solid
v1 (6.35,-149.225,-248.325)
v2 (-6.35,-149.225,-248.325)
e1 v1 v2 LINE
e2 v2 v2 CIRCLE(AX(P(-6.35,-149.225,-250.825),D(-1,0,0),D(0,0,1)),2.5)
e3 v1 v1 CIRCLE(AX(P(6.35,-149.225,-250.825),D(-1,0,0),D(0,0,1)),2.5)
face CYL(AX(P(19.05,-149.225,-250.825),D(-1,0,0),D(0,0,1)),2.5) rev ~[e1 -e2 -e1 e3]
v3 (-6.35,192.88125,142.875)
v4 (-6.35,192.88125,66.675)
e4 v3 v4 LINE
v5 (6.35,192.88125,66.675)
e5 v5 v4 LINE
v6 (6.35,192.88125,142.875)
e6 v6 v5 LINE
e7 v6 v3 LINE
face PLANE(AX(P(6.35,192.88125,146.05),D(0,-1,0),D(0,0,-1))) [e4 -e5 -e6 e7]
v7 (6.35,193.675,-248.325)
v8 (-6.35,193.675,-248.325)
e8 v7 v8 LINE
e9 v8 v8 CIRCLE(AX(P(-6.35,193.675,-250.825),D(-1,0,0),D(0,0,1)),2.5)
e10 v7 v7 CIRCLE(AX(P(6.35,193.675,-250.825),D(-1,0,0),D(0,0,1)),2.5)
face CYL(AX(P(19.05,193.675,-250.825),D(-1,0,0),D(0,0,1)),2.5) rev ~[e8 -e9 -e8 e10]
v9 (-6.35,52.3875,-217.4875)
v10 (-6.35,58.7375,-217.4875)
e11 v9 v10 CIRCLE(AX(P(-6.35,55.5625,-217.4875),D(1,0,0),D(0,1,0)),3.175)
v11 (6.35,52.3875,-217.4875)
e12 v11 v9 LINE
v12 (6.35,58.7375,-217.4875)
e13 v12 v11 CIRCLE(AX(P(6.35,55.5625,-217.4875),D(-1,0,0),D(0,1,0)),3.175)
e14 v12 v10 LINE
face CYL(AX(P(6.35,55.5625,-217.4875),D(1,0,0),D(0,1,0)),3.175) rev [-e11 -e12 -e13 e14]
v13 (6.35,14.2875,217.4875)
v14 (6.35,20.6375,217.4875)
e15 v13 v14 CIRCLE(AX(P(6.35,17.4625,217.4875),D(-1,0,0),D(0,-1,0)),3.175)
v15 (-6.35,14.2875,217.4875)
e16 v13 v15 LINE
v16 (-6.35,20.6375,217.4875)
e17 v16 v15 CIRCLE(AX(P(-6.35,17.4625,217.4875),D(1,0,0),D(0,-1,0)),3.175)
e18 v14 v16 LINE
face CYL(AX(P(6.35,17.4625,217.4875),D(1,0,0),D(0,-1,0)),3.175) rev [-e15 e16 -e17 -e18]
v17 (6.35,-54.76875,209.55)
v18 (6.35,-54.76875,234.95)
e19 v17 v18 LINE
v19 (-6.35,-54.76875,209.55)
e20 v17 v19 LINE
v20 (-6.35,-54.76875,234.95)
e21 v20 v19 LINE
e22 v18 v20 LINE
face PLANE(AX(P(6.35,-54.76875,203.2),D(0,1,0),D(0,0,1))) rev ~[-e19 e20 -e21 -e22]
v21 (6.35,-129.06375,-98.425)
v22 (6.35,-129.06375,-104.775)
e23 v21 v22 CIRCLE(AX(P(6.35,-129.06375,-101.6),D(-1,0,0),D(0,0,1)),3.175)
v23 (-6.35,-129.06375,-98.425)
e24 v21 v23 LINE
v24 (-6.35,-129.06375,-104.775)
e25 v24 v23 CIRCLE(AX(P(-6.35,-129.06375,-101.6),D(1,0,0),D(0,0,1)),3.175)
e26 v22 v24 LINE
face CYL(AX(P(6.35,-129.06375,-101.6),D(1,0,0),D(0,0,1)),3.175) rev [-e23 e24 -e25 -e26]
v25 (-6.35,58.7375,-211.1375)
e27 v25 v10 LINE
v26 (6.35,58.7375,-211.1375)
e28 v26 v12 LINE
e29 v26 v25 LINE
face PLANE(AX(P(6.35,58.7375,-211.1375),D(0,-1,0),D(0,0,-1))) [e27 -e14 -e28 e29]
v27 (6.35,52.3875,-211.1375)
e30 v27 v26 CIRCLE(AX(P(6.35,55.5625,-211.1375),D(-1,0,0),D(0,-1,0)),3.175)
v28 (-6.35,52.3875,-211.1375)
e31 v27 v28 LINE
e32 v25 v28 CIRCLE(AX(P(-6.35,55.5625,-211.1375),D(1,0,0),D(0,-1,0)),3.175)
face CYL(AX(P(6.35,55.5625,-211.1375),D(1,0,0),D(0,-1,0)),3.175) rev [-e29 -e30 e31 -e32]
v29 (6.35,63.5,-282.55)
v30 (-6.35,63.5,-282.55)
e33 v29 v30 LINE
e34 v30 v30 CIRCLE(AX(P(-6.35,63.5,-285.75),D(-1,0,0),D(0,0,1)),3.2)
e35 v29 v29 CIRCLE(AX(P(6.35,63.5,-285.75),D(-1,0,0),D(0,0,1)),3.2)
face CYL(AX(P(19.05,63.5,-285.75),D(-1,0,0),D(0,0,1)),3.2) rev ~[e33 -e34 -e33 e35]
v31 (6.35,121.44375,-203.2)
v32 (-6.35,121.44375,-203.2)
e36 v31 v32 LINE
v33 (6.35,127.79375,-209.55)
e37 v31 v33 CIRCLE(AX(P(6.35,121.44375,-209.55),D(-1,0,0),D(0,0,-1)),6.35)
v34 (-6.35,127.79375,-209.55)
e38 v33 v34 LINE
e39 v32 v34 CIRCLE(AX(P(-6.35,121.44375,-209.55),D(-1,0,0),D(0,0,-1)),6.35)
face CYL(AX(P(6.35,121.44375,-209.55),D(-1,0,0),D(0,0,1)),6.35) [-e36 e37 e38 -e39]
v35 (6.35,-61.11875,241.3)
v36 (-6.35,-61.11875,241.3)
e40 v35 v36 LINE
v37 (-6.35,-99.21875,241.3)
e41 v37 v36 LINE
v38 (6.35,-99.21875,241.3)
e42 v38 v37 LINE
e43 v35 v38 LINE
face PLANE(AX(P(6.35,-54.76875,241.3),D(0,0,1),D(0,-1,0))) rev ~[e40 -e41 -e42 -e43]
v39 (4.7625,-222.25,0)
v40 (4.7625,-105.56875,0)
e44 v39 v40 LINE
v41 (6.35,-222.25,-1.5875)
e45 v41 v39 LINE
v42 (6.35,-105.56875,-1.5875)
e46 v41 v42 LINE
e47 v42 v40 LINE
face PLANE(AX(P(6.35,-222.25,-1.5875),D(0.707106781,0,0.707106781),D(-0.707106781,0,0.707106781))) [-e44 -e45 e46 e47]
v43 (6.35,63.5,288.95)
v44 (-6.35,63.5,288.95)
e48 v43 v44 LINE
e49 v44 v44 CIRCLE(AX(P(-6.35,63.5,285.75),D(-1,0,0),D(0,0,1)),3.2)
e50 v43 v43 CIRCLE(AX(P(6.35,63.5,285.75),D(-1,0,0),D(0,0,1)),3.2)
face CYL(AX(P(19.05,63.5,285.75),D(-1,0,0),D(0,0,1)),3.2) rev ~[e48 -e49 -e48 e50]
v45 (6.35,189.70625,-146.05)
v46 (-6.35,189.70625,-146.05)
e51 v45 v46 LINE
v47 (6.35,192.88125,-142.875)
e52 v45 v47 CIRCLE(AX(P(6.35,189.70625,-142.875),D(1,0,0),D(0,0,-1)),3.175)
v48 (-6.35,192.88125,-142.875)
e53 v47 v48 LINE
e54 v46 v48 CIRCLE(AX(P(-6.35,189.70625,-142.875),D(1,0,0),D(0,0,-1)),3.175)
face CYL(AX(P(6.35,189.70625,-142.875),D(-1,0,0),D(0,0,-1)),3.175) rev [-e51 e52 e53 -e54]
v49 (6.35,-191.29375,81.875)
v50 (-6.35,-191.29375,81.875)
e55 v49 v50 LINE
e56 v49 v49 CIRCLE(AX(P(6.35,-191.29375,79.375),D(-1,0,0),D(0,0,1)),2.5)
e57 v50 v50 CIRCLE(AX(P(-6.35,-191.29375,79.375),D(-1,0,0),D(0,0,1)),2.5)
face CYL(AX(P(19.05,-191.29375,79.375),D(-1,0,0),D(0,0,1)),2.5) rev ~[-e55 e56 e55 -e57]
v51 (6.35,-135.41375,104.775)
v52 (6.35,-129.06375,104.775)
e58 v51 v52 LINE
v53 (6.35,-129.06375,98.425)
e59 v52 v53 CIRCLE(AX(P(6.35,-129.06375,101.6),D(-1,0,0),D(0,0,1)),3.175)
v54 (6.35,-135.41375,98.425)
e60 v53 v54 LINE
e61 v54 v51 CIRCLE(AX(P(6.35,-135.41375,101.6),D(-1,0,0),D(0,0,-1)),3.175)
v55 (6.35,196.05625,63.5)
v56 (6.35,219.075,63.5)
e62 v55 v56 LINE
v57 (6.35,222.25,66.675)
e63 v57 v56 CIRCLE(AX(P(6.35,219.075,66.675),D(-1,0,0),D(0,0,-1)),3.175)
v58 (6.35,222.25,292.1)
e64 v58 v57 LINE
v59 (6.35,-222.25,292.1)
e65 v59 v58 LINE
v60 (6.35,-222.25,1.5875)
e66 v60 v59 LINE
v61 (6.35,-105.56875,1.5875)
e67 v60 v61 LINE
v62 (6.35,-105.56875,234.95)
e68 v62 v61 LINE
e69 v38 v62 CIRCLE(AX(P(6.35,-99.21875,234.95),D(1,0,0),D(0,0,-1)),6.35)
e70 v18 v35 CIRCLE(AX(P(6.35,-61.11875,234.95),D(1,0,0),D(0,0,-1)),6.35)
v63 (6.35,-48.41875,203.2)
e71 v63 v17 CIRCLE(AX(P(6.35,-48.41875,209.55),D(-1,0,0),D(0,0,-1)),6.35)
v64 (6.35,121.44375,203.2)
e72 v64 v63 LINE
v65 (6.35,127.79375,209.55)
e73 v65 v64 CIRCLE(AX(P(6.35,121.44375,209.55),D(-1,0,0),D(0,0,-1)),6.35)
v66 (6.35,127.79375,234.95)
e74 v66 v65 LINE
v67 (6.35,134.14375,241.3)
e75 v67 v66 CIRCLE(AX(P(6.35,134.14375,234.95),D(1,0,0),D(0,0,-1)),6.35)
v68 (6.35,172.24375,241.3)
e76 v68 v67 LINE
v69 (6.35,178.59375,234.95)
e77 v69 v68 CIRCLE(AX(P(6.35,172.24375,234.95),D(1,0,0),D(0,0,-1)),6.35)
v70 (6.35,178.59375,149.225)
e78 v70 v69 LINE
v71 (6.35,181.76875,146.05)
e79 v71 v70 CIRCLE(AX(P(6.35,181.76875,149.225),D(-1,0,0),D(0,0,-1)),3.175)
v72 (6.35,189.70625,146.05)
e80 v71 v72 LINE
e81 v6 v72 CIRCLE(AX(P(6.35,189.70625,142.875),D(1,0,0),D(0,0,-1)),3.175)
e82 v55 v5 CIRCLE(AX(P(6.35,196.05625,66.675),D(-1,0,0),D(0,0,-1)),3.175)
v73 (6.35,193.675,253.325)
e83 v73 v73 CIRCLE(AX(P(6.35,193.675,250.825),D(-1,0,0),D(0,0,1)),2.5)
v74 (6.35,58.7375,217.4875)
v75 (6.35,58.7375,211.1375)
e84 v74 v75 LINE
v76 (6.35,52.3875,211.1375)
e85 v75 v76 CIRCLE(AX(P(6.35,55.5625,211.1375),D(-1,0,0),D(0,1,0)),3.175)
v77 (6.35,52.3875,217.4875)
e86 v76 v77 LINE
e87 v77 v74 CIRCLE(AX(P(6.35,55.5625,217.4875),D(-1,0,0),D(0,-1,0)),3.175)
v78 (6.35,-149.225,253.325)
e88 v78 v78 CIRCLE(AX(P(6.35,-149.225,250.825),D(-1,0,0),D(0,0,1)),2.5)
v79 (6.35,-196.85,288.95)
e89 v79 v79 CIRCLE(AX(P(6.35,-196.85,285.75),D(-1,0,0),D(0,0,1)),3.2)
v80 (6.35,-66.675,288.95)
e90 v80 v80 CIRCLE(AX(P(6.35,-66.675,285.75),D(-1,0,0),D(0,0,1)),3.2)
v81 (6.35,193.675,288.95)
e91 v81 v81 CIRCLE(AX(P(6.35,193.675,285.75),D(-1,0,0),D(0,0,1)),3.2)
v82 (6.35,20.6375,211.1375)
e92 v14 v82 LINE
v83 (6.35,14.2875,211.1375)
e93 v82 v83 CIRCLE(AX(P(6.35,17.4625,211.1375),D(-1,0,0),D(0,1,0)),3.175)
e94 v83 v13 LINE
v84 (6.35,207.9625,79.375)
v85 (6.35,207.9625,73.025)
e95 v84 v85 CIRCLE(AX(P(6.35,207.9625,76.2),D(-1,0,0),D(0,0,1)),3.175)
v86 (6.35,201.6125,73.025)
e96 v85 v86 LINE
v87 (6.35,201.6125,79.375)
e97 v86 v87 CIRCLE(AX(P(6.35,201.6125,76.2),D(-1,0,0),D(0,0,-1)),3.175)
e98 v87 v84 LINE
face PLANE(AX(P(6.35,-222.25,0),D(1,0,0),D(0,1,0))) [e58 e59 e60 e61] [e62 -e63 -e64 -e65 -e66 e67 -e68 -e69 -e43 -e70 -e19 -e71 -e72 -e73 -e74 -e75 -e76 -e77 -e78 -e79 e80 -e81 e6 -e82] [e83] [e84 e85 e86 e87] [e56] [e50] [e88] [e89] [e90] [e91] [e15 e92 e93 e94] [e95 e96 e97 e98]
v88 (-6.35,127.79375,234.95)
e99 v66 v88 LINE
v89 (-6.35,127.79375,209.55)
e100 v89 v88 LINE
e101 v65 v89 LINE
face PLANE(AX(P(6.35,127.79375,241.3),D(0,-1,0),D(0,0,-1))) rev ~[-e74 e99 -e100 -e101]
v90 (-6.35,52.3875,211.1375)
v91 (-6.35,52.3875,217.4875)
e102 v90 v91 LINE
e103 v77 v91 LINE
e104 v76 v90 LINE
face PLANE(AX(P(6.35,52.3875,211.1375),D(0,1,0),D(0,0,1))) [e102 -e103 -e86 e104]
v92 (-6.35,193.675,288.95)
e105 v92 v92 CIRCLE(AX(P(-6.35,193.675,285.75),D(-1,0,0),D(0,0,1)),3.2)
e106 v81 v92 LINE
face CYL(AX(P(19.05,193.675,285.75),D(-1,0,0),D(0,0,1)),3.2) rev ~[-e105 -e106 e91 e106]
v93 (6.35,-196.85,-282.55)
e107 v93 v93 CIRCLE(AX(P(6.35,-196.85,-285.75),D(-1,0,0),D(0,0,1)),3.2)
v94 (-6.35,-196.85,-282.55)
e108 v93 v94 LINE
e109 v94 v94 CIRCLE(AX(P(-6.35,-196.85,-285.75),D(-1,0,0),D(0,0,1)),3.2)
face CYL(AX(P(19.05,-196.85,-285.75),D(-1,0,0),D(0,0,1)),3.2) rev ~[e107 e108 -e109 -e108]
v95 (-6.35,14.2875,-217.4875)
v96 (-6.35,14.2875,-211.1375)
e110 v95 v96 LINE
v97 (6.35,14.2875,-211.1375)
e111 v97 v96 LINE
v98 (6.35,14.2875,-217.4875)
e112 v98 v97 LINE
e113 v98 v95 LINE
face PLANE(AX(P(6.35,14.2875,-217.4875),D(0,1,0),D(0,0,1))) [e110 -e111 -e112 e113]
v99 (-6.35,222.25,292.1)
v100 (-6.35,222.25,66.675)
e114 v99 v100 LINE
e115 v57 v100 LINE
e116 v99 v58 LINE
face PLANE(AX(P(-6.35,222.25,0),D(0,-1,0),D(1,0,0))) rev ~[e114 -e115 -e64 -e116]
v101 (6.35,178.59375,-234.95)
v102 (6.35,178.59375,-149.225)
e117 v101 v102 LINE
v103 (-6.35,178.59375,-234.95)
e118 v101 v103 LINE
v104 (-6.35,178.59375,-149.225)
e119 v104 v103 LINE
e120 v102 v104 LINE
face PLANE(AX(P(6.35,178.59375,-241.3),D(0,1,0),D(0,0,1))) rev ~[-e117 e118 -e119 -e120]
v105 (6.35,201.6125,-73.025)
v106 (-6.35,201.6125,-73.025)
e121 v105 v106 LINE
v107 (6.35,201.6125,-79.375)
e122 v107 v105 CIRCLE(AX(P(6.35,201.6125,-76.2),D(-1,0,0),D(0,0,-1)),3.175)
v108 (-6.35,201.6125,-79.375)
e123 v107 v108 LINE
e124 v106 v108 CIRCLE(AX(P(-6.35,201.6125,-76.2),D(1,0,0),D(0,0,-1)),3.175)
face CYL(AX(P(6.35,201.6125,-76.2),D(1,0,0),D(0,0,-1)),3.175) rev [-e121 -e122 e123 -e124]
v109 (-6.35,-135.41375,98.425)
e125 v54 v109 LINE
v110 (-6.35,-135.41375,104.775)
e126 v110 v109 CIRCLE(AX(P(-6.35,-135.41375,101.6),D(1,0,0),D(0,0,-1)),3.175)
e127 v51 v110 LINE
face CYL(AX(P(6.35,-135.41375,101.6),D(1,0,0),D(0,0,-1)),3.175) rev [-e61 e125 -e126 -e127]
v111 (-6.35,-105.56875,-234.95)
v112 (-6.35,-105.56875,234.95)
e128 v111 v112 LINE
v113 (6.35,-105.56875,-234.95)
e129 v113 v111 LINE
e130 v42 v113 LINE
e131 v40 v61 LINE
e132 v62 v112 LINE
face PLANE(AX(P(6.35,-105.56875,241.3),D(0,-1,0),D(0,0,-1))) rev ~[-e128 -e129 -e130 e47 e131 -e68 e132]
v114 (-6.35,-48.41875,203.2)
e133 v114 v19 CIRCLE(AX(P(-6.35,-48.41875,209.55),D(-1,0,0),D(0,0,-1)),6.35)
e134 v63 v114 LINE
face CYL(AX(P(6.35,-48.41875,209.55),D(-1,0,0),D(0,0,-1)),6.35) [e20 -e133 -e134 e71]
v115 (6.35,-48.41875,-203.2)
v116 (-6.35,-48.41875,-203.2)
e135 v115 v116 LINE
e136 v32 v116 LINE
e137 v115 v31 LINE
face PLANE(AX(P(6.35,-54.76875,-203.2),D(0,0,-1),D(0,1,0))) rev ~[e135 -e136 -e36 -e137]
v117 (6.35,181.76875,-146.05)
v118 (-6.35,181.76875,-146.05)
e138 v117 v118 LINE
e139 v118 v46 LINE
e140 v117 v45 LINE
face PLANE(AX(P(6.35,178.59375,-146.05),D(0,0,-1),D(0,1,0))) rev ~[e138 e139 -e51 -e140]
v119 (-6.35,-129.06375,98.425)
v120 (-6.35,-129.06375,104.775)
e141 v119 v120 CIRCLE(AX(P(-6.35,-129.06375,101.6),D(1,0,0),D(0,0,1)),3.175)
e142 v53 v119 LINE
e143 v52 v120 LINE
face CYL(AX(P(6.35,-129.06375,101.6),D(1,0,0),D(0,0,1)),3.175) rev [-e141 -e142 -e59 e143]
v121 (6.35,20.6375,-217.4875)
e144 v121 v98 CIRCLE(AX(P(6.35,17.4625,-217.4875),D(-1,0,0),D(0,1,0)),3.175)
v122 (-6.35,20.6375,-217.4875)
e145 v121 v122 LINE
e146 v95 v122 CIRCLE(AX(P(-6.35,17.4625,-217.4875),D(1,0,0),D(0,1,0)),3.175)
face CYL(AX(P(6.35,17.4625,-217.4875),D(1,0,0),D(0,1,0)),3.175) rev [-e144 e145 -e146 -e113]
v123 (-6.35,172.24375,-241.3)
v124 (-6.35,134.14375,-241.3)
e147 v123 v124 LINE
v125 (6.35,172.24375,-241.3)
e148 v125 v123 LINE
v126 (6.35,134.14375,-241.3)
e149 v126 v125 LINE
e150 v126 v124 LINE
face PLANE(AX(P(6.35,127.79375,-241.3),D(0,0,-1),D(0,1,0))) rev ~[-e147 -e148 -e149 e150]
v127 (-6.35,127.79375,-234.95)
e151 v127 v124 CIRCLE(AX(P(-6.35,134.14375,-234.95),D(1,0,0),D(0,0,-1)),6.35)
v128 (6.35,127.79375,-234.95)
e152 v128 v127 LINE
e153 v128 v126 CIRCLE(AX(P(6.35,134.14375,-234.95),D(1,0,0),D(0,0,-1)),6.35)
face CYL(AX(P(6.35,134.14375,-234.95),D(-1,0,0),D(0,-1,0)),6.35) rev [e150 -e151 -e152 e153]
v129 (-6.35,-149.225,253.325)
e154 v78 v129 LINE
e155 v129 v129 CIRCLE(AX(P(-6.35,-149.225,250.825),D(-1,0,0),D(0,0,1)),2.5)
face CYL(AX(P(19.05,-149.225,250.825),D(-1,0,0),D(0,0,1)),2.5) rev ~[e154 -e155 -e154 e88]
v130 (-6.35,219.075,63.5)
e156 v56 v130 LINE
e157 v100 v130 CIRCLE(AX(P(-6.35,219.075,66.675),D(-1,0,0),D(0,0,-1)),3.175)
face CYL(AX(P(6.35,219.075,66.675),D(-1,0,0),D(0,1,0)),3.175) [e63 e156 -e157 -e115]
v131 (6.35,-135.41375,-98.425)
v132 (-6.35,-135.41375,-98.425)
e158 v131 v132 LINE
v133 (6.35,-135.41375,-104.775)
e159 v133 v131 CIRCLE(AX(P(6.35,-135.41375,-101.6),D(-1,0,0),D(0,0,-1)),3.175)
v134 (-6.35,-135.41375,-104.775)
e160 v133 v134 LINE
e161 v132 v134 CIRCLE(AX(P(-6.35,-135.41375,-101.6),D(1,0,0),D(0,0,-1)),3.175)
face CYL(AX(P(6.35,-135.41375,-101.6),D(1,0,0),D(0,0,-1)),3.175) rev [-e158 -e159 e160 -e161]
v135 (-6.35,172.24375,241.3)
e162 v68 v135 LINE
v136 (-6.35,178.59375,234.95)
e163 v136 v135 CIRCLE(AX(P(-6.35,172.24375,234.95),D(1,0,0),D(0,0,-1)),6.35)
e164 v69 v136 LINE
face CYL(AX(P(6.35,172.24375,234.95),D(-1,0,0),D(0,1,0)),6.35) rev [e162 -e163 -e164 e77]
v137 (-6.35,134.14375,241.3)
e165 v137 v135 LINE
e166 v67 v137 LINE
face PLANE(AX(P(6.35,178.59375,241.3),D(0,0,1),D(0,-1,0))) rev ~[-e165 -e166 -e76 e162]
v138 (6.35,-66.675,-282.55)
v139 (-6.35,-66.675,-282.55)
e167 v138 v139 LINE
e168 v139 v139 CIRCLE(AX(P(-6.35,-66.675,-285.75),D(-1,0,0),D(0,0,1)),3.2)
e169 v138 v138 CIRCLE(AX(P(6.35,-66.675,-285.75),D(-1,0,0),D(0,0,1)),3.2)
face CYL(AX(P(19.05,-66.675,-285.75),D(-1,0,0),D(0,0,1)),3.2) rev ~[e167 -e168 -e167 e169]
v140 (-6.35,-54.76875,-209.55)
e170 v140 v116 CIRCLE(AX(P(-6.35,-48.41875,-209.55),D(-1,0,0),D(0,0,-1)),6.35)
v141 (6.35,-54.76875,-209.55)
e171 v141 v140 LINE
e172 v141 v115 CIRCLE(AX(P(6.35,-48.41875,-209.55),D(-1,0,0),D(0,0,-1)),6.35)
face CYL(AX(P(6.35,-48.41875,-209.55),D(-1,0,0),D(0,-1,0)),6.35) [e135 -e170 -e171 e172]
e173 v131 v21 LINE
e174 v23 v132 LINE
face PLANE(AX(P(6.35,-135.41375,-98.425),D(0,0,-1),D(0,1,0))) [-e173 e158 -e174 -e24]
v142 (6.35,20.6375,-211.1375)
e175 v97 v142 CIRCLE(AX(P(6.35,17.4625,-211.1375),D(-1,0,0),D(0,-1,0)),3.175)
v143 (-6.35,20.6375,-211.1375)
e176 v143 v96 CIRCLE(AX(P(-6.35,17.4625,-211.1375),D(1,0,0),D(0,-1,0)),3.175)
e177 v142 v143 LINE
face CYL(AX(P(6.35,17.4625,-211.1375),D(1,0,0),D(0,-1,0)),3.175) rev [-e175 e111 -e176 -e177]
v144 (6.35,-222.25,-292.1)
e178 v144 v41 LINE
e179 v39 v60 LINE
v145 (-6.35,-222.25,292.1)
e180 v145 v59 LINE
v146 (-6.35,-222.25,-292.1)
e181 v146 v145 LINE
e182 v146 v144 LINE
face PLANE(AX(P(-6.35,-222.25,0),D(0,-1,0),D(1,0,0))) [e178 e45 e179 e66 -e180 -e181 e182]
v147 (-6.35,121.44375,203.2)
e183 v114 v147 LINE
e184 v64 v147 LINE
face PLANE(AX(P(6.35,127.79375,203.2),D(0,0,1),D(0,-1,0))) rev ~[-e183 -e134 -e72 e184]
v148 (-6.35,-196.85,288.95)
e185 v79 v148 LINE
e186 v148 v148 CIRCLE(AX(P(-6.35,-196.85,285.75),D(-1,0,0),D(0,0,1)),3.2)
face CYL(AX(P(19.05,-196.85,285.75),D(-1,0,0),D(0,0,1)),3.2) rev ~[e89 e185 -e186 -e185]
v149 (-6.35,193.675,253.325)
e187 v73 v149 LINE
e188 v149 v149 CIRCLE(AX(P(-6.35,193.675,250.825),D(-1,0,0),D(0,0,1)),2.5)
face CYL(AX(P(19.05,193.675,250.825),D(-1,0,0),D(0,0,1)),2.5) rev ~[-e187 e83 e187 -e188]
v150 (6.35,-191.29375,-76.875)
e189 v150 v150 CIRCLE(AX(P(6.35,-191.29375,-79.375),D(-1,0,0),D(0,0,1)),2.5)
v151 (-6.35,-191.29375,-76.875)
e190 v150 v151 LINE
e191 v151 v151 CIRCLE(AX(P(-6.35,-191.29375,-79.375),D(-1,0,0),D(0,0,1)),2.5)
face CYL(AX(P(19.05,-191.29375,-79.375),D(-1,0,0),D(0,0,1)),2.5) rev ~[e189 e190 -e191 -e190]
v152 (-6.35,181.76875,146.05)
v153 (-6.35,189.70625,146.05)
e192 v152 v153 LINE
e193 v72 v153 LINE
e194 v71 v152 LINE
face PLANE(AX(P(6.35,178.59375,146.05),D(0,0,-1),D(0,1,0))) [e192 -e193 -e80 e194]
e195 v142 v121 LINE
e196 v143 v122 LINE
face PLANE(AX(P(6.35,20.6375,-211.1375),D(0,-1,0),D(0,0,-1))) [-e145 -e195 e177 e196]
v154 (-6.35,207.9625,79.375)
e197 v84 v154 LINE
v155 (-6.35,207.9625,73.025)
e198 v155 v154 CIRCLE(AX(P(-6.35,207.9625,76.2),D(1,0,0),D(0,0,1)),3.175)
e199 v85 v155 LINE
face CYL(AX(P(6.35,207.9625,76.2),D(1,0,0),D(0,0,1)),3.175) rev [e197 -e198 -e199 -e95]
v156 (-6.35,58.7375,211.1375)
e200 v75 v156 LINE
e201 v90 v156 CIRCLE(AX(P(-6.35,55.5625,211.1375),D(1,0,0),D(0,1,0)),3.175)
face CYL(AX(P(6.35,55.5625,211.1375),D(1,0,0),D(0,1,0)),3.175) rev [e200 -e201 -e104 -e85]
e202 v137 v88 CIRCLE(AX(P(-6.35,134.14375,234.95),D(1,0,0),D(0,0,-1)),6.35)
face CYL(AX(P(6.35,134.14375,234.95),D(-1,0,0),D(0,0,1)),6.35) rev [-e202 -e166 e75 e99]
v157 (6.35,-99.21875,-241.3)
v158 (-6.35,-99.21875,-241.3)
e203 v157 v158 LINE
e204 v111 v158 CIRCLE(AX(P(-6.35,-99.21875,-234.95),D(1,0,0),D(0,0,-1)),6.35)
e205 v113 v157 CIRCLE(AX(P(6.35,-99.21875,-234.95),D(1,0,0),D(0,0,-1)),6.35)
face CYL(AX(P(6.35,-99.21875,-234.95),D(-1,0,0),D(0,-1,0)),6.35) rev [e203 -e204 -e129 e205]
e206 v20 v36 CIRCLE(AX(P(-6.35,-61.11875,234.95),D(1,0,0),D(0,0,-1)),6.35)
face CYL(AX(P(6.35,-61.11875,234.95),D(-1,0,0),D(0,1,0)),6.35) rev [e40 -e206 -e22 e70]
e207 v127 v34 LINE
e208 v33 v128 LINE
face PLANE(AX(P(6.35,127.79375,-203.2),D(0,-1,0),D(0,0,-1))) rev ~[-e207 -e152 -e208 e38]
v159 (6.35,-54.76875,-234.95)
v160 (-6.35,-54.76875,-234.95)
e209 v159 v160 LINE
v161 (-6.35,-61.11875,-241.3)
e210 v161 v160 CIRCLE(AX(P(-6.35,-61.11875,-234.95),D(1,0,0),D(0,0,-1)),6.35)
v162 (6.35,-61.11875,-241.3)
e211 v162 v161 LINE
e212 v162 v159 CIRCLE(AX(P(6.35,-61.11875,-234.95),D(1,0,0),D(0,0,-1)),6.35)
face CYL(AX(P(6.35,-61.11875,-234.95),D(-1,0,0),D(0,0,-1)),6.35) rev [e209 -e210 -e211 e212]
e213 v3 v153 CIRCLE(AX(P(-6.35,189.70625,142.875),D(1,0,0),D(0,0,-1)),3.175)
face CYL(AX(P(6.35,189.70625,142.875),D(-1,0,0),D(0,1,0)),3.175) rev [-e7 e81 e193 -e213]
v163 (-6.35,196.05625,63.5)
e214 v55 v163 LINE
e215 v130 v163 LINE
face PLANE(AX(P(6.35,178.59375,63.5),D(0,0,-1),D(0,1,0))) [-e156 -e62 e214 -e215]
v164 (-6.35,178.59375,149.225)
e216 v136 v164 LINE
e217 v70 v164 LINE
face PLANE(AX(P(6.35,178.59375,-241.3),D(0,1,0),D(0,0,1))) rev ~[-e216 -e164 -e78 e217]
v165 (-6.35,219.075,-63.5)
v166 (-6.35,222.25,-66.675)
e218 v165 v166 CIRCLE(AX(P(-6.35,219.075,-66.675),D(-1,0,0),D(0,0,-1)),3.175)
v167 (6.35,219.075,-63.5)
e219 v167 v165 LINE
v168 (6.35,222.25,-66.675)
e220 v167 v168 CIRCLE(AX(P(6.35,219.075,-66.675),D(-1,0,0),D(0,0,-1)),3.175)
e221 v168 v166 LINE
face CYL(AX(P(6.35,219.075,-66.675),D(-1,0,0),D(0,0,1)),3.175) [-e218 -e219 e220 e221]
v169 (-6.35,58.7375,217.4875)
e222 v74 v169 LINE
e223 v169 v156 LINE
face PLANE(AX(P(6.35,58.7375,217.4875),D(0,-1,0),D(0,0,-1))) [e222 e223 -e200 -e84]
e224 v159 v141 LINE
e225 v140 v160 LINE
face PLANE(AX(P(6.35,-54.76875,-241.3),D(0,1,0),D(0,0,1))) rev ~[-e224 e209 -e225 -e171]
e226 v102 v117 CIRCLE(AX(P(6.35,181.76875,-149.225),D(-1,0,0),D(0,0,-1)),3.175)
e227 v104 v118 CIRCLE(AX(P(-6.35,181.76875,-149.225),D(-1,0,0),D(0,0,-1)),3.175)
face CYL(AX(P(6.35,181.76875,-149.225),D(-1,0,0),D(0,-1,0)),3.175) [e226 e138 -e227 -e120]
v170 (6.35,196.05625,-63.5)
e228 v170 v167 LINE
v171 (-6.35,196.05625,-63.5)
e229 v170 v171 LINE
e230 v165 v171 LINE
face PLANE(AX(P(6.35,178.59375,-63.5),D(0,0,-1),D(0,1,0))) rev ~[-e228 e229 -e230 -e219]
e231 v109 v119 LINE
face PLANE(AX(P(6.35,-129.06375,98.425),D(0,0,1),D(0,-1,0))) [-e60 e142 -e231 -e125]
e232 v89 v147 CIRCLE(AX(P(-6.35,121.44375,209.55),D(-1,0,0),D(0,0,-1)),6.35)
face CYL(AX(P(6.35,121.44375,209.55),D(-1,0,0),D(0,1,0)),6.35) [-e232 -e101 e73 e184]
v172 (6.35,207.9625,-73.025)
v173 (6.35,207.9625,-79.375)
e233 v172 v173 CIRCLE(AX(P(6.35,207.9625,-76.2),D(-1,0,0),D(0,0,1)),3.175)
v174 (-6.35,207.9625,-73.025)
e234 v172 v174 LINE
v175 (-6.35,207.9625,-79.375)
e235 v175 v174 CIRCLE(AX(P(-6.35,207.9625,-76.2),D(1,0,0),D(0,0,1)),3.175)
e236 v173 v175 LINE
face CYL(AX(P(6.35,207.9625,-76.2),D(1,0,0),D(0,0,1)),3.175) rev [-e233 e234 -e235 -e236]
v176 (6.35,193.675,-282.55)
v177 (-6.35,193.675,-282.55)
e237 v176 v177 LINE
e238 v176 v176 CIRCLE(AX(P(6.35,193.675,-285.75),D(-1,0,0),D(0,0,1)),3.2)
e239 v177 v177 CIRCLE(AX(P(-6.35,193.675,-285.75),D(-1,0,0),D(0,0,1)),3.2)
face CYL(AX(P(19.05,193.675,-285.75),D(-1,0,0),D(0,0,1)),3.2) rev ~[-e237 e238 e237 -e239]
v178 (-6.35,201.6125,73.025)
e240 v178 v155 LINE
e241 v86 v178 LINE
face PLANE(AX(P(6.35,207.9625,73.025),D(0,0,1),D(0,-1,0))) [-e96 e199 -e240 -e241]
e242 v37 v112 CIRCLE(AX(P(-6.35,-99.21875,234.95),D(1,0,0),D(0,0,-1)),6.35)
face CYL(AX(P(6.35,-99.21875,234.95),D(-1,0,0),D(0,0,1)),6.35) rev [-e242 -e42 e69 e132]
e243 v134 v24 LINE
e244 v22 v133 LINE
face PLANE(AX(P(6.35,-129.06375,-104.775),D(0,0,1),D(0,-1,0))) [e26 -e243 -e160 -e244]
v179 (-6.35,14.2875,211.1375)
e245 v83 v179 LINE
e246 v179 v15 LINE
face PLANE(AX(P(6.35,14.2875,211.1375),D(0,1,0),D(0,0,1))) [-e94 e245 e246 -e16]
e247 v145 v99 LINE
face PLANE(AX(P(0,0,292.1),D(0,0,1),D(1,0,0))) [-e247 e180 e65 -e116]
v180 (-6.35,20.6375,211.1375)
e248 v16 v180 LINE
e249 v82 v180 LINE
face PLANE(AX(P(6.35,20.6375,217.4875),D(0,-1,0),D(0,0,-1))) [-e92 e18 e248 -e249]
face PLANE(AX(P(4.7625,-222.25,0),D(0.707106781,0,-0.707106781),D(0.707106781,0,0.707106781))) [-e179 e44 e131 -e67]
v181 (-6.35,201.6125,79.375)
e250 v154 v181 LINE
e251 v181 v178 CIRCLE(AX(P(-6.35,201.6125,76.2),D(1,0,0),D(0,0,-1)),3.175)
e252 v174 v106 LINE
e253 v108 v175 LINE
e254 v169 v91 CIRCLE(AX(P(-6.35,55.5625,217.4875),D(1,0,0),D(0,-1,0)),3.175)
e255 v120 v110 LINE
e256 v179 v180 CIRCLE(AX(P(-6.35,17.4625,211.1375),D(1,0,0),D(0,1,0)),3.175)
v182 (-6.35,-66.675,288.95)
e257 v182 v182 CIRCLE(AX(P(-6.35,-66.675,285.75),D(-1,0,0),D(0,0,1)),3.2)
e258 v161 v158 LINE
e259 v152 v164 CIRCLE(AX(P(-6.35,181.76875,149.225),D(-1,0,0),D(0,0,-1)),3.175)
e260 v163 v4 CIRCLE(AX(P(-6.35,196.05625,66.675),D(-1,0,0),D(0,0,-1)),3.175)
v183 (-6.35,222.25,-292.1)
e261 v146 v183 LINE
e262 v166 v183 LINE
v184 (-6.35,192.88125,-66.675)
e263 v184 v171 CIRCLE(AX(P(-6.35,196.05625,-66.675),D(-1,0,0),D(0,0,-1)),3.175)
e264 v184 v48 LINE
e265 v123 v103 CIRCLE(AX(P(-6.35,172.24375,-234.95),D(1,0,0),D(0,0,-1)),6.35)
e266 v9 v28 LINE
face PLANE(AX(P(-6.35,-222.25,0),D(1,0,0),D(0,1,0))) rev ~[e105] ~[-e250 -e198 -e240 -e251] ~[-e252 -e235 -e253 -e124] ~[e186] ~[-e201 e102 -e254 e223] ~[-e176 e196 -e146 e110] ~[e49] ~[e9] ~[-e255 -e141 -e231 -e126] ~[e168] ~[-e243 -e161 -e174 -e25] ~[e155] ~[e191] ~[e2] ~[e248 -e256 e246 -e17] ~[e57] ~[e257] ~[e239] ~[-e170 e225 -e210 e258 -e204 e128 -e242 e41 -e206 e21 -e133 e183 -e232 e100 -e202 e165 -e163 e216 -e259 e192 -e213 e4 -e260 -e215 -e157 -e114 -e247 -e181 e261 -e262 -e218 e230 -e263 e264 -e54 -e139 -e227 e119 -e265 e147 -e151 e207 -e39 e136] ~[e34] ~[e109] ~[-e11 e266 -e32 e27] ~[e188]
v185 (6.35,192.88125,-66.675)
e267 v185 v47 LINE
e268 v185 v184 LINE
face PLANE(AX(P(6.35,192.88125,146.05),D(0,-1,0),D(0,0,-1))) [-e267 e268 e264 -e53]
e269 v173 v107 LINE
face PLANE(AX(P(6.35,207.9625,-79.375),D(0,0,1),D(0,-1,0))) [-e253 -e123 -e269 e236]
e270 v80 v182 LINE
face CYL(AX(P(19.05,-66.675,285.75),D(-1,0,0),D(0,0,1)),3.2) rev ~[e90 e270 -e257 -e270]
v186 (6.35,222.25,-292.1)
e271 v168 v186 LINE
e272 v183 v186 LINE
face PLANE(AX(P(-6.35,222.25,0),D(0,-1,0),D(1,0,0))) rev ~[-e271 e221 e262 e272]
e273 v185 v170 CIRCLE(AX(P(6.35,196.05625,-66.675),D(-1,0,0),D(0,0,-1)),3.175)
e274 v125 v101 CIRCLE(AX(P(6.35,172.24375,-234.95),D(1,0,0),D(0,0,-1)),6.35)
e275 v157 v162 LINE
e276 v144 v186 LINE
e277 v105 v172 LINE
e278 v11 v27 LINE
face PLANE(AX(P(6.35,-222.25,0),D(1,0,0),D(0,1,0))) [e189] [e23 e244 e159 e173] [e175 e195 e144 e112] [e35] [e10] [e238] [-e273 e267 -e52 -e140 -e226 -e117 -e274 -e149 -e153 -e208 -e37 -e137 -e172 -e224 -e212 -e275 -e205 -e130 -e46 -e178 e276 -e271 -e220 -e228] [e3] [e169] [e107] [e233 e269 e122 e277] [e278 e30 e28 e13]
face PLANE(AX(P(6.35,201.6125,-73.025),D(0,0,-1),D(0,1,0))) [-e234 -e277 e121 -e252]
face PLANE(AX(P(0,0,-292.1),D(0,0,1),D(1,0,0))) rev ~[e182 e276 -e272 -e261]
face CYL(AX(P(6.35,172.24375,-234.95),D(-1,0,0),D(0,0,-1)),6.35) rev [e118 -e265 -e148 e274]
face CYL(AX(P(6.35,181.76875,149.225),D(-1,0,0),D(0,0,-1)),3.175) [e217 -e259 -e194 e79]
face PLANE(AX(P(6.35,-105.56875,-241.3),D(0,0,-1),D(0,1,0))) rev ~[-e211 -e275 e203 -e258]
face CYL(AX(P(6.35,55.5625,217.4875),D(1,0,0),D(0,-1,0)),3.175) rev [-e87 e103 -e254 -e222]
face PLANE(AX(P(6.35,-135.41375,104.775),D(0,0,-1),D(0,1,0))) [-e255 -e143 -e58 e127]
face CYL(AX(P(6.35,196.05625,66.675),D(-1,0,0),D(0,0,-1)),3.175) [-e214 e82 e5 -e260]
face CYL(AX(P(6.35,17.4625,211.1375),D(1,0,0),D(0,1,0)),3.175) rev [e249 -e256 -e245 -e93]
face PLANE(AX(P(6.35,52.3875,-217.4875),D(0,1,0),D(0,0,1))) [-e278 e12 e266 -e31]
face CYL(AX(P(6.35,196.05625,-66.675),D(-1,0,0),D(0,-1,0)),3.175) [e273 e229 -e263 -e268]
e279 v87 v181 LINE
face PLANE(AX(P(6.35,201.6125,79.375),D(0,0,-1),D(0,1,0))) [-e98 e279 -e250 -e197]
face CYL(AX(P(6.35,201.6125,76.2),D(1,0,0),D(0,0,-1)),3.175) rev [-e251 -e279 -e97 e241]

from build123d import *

# Parameters (mm, degrees)
SKETCH1_W                 = 12.7
SKETCH1_H                 = 444.5
EXTRUDE1_DEPTH            = 292.1
EXTRUDE1_DEPTH_BACK       = 292.1
CUT_EXTRUDE1_REACH        = 14.7
CUT_EXTRUDE2_REACH        = 14.7
SKETCH5_W                 = 127
SKETCH5_H                 = 43.65625
FILLET2_R                 = 6.35
M6X1_0_TAPPED_HOLE1_D     = 5
M6X1_0_TAPPED_HOLE1_DEPTH = 12.7
SKETCH11_W                = 292.1
SKETCH11_H                = 14.2875
CUT_EXTRUDE3_DEPTH        = 13.7
FILLET3_R                 = 3.175
CUT_EXTRUDE8_REACH        = 14.7
CUT_EXTRUDE7_DEPTH        = 1
CUT_EXTRUDE7_DEPTH_BACK   = 445.5
M6X1_0_TAPPED_HOLE2_D     = 5
M6X1_0_TAPPED_HOLE2_DEPTH = 12.7
M6_CLEARANCE_HOLE1_D      = 6.4
M6_CLEARANCE_HOLE1_DEPTH  = 12.7
M6X1_0_TAPPED_HOLE3_D     = 5
M6X1_0_TAPPED_HOLE3_DEPTH = 12.7
CUT_EXTRUDE9_DEPTH        = 13.7


with BuildPart() as part:
    # Sketch1 → Extrude1 (new body, two sides)
    with BuildSketch(Plane.XY) as extrude1_sk:
        Rectangle(SKETCH1_W, SKETCH1_H)
    extrude(amount=EXTRUDE1_DEPTH)
    extrude(extrude1_sk.sketch, amount=-EXTRUDE1_DEPTH_BACK)

    # Sketch4 → Cut-Extrude1 (cut, up to next)
    with BuildSketch(Plane(origin=(6.35, 0, 0), x_dir=(0, 0, -1), z_dir=(1, 0, 0)), mode=Mode.PRIVATE) as cut_extrude1_sk1:
        Polygon((203.2, 127.79375), (241.3, 127.79375), (241.3, 178.59375), (-241.3, 178.59375), (-241.3, 127.79375), (-203.2, 127.79375), (-203.2, -54.76875), (-241.3, -54.76875), (-241.3, -105.56875), (241.3, -105.56875), (241.3, -54.76875), (203.2, -54.76875), align=None)
    cut_extrude1_tool1 = extrude(cut_extrude1_sk1.sketch, amount=-CUT_EXTRUDE1_REACH, mode=Mode.PRIVATE) & part.part
    add(cut_extrude1_tool1.solids().sort_by_distance((6.35, 36.5125, 0))[0], mode=Mode.SUBTRACT)

    # Sketch5 → Cut-Extrude2 (cut, up to next)
    with BuildSketch(Plane(origin=(6.35, 0, 0), x_dir=(0, 0, -1), z_dir=(1, 0, 0)), mode=Mode.PRIVATE) as cut_extrude2_sk1:
        with Locations((0, 200.421875)):
            Rectangle(SKETCH5_W, SKETCH5_H)
    cut_extrude2_tool1 = extrude(cut_extrude2_sk1.sketch, amount=-CUT_EXTRUDE2_REACH, mode=Mode.PRIVATE) & part.part
    add(cut_extrude2_tool1.solids().sort_by_distance((6.35, 200.421875, 0))[0], mode=Mode.SUBTRACT)

    # Fillet2
    fillet2_edges = [part.edges().sort_by_distance(p)[0] for p in [
        (0, 127.79375, -203.2),
        (0, -54.76875, -203.2),
        (0, -54.76875, -241.3),
        (0, -105.56875, -241.3),
        (0, -105.56875, 241.3),
        (0, -54.76875, 241.3),
        (0, -54.76875, 203.2),
        (0, 127.79375, 203.2),
        (0, 127.79375, 241.3),
        (0, 178.59375, 241.3),
        (0, 178.59375, -241.3),
        (0, 127.79375, -241.3),
    ]]
    fillet(fillet2_edges, radius=FILLET2_R)

    # M6x1.0 Tapped Hole1
    with Locations(Plane(origin=(6.35, 0, 0), x_dir=(0, 0, -1), z_dir=(1, 0, 0))):
        with Locations((76.2, 204.7875), (-76.2, 204.7875), (101.6, -132.23875), (-101.6, -132.23875), (0, 204.7875)):
            Hole(M6X1_0_TAPPED_HOLE1_D / 2, depth=M6X1_0_TAPPED_HOLE1_DEPTH)

    # Sketch11 → Cut-Extrude3 (cut, through all)
    with BuildSketch(Plane(origin=(6.35, 0, 0), x_dir=(0, 0, -1), z_dir=(1, 0, 0))):
        with Locations((0, 185.7375)):
            Rectangle(SKETCH11_W, SKETCH11_H)
    extrude(amount=-CUT_EXTRUDE3_DEPTH, mode=Mode.SUBTRACT)

    # Fillet3
    fillet3_edges = [part.edges().sort_by_distance(p)[0] for p in [
        (0, 192.88125, 63.5),
        (0, 192.88125, -63.5),
        (0, 192.88125, 146.05),
        (0, 178.59375, -146.05),
        (0, 178.59375, 146.05),
        (0, 192.88125, -146.05),
        (0, 222.25, 63.5),
        (0, 222.25, -63.5),
    ]]
    fillet(fillet3_edges, radius=FILLET3_R)

    # Sketch19 → Cut-Extrude8 (cut, up to next)
    with BuildSketch(Plane(origin=(6.35, 0, 0), x_dir=(0, 0, -1), z_dir=(1, 0, 0)), mode=Mode.PRIVATE) as cut_extrude8_sk1:
        with BuildLine():
            Line((79.375, 207.9625), (79.375, 201.6125))
            ThreePointArc((79.375, 201.6125), (76.2, 198.4375), (73.025, 201.6125))
            Line((73.025, 201.6125), (73.025, 207.9625))
            ThreePointArc((73.025, 207.9625), (76.2, 211.1375), (79.375, 207.9625))
        make_face()
    cut_extrude8_tool1 = extrude(cut_extrude8_sk1.sketch, amount=-CUT_EXTRUDE8_REACH, mode=Mode.PRIVATE) & part.part
    add(cut_extrude8_tool1.solids().sort_by_distance((6.35, 204.7875, -76.2))[0], mode=Mode.SUBTRACT)
    # Sketch19 → Cut-Extrude8 (cut, up to next)
    with BuildSketch(Plane(origin=(6.35, 0, 0), x_dir=(0, 0, -1), z_dir=(1, 0, 0)), mode=Mode.PRIVATE) as cut_extrude8_sk2:
        with BuildLine():
            Line((-73.025, 207.9625), (-73.025, 201.6125))
            ThreePointArc((-73.025, 201.6125), (-76.2, 198.4375), (-79.375, 201.6125))
            Line((-79.375, 201.6125), (-79.375, 207.9625))
            ThreePointArc((-79.375, 207.9625), (-76.2, 211.1375), (-73.025, 207.9625))
        make_face()
    cut_extrude8_tool2 = extrude(cut_extrude8_sk2.sketch, amount=-CUT_EXTRUDE8_REACH, mode=Mode.PRIVATE) & part.part
    add(cut_extrude8_tool2.solids().sort_by_distance((6.35, 204.7875, 76.2))[0], mode=Mode.SUBTRACT)
    # Sketch19 → Cut-Extrude8 (cut, up to next)
    with BuildSketch(Plane(origin=(6.35, 0, 0), x_dir=(0, 0, -1), z_dir=(1, 0, 0)), mode=Mode.PRIVATE) as cut_extrude8_sk3:
        with BuildLine():
            Line((-98.425, -129.06375), (-98.425, -135.41375))
            ThreePointArc((-98.425, -135.41375), (-101.6, -138.58875), (-104.775, -135.41375))
            Line((-104.775, -135.41375), (-104.775, -129.06375))
            ThreePointArc((-104.775, -129.06375), (-101.6, -125.88875), (-98.425, -129.06375))
        make_face()
    cut_extrude8_tool3 = extrude(cut_extrude8_sk3.sketch, amount=-CUT_EXTRUDE8_REACH, mode=Mode.PRIVATE) & part.part
    add(cut_extrude8_tool3.solids().sort_by_distance((6.35, -132.23875, 101.6))[0], mode=Mode.SUBTRACT)
    # Sketch19 → Cut-Extrude8 (cut, up to next)
    with BuildSketch(Plane(origin=(6.35, 0, 0), x_dir=(0, 0, -1), z_dir=(1, 0, 0)), mode=Mode.PRIVATE) as cut_extrude8_sk4:
        with BuildLine():
            Line((104.775, -129.06375), (104.775, -135.41375))
            ThreePointArc((104.775, -135.41375), (101.6, -138.58875), (98.425, -135.41375))
            Line((98.425, -135.41375), (98.425, -129.06375))
            ThreePointArc((98.425, -129.06375), (101.6, -125.88875), (104.775, -129.06375))
        make_face()
    cut_extrude8_tool4 = extrude(cut_extrude8_sk4.sketch, amount=-CUT_EXTRUDE8_REACH, mode=Mode.PRIVATE) & part.part
    add(cut_extrude8_tool4.solids().sort_by_distance((6.35, -132.23875, -101.6))[0], mode=Mode.SUBTRACT)

    # Sketch18 → Cut-Extrude7 (cut, two sides)
    with BuildSketch(Plane.XZ.offset(222.25)) as cut_extrude7_sk:
        Polygon((6.35, 1.5875), (6.35, -1.5875), (4.7625, 0), align=None)
    extrude(amount=CUT_EXTRUDE7_DEPTH, mode=Mode.SUBTRACT)
    extrude(cut_extrude7_sk.sketch, amount=-CUT_EXTRUDE7_DEPTH_BACK, mode=Mode.SUBTRACT)

    # M6x1.0 Tapped Hole2
    with Locations(Plane(origin=(6.35, 0, 0), x_dir=(0, 0, -1), z_dir=(1, 0, 0))):
        with Locations((79.375, -191.29375), (-79.375, -191.29375), (250.825, -149.225), (250.825, 193.675), (-250.825, 193.675), (-250.825, -149.225)):
            Hole(M6X1_0_TAPPED_HOLE2_D / 2, depth=M6X1_0_TAPPED_HOLE2_DEPTH)

    # M6 Clearance Hole1
    with Locations(Plane(origin=(6.35, 0, 0), x_dir=(0, 0, -1), z_dir=(1, 0, 0))):
        with Locations((-285.75, -196.85), (-285.75, -66.675), (-285.75, 193.675), (-285.75, 63.5), (285.75, 193.675), (285.75, 63.5), (285.75, -66.675), (285.75, -196.85)):
            Hole(M6_CLEARANCE_HOLE1_D / 2, depth=M6_CLEARANCE_HOLE1_DEPTH)

    # M6x1.0 Tapped Hole3
    with Locations(Plane(origin=(6.35, 55.5625, 214.3125), x_dir=(0, 1, 0), z_dir=(1, 0, 0))):
        with Locations((0, 0), (-38.1, 0), (0, -428.625), (-38.1, -428.625)):
            Hole(M6X1_0_TAPPED_HOLE3_D / 2, depth=M6X1_0_TAPPED_HOLE3_DEPTH)

    # Sketch28 → Cut-Extrude9 (cut, through all)
    with BuildSketch(Plane(origin=(6.35, 0, 0), x_dir=(0, 0, -1), z_dir=(1, 0, 0))):
        with BuildLine():
            Line((-217.4875, 20.6375), (-211.1375, 20.6375))
            ThreePointArc((-211.1375, 20.6375), (-207.9625, 17.4625), (-211.1375, 14.2875))
            Line((-211.1375, 14.2875), (-217.4875, 14.2875))
            ThreePointArc((-217.4875, 14.2875), (-220.6625, 17.4625), (-217.4875, 20.6375))
        make_face()
        with BuildLine():
            Line((-217.4875, 58.7375), (-211.1375, 58.7375))
            ThreePointArc((-211.1375, 58.7375), (-207.9625, 55.5625), (-211.1375, 52.3875))
            Line((-211.1375, 52.3875), (-217.4875, 52.3875))
            ThreePointArc((-217.4875, 52.3875), (-220.6625, 55.5625), (-217.4875, 58.7375))
        make_face()
        with BuildLine():
            Line((-73.025, 201.6125), (-73.025, 207.9625))
            ThreePointArc((-73.025, 207.9625), (-76.2, 211.1375), (-79.375, 207.9625))
            Line((-79.375, 207.9625), (-79.375, 201.6125))
            ThreePointArc((-79.375, 201.6125), (-76.2, 198.4375), (-73.025, 201.6125))
        make_face()
        with BuildLine():
            Line((79.375, 201.6125), (79.375, 207.9625))
            ThreePointArc((79.375, 207.9625), (76.2, 211.1375), (73.025, 207.9625))
            Line((73.025, 207.9625), (73.025, 201.6125))
            ThreePointArc((73.025, 201.6125), (76.2, 198.4375), (79.375, 201.6125))
        make_face()
        with BuildLine():
            Line((104.775, -135.41375), (104.775, -129.06375))
            ThreePointArc((104.775, -129.06375), (101.6, -125.88875), (98.425, -129.06375))
            Line((98.425, -129.06375), (98.425, -135.41375))
            ThreePointArc((98.425, -135.41375), (101.6, -138.58875), (104.775, -135.41375))
        make_face()
        with BuildLine():
            Line((-98.425, -135.41375), (-98.425, -129.06375))
            ThreePointArc((-98.425, -129.06375), (-101.6, -125.88875), (-104.775, -129.06375))
            Line((-104.775, -129.06375), (-104.775, -135.41375))
            ThreePointArc((-104.775, -135.41375), (-101.6, -138.58875), (-98.425, -135.41375))
        make_face()
        with BuildLine():
            Line((211.1375, 58.7375), (217.4875, 58.7375))
            ThreePointArc((217.4875, 58.7375), (220.6625, 55.5625), (217.4875, 52.3875))
            Line((217.4875, 52.3875), (211.1375, 52.3875))
            ThreePointArc((211.1375, 52.3875), (207.9625, 55.5625), (211.1375, 58.7375))
        make_face()
        with BuildLine():
            Line((211.1375, 20.6375), (217.4875, 20.6375))
            ThreePointArc((217.4875, 20.6375), (220.6625, 17.4625), (217.4875, 14.2875))
            Line((217.4875, 14.2875), (211.1375, 14.2875))
            ThreePointArc((211.1375, 14.2875), (207.9625, 17.4625), (211.1375, 20.6375))
        make_face()
    extrude(amount=-CUT_EXTRUDE9_DEPTH, mode=Mode.SUBTRACT)


solid = part.part
